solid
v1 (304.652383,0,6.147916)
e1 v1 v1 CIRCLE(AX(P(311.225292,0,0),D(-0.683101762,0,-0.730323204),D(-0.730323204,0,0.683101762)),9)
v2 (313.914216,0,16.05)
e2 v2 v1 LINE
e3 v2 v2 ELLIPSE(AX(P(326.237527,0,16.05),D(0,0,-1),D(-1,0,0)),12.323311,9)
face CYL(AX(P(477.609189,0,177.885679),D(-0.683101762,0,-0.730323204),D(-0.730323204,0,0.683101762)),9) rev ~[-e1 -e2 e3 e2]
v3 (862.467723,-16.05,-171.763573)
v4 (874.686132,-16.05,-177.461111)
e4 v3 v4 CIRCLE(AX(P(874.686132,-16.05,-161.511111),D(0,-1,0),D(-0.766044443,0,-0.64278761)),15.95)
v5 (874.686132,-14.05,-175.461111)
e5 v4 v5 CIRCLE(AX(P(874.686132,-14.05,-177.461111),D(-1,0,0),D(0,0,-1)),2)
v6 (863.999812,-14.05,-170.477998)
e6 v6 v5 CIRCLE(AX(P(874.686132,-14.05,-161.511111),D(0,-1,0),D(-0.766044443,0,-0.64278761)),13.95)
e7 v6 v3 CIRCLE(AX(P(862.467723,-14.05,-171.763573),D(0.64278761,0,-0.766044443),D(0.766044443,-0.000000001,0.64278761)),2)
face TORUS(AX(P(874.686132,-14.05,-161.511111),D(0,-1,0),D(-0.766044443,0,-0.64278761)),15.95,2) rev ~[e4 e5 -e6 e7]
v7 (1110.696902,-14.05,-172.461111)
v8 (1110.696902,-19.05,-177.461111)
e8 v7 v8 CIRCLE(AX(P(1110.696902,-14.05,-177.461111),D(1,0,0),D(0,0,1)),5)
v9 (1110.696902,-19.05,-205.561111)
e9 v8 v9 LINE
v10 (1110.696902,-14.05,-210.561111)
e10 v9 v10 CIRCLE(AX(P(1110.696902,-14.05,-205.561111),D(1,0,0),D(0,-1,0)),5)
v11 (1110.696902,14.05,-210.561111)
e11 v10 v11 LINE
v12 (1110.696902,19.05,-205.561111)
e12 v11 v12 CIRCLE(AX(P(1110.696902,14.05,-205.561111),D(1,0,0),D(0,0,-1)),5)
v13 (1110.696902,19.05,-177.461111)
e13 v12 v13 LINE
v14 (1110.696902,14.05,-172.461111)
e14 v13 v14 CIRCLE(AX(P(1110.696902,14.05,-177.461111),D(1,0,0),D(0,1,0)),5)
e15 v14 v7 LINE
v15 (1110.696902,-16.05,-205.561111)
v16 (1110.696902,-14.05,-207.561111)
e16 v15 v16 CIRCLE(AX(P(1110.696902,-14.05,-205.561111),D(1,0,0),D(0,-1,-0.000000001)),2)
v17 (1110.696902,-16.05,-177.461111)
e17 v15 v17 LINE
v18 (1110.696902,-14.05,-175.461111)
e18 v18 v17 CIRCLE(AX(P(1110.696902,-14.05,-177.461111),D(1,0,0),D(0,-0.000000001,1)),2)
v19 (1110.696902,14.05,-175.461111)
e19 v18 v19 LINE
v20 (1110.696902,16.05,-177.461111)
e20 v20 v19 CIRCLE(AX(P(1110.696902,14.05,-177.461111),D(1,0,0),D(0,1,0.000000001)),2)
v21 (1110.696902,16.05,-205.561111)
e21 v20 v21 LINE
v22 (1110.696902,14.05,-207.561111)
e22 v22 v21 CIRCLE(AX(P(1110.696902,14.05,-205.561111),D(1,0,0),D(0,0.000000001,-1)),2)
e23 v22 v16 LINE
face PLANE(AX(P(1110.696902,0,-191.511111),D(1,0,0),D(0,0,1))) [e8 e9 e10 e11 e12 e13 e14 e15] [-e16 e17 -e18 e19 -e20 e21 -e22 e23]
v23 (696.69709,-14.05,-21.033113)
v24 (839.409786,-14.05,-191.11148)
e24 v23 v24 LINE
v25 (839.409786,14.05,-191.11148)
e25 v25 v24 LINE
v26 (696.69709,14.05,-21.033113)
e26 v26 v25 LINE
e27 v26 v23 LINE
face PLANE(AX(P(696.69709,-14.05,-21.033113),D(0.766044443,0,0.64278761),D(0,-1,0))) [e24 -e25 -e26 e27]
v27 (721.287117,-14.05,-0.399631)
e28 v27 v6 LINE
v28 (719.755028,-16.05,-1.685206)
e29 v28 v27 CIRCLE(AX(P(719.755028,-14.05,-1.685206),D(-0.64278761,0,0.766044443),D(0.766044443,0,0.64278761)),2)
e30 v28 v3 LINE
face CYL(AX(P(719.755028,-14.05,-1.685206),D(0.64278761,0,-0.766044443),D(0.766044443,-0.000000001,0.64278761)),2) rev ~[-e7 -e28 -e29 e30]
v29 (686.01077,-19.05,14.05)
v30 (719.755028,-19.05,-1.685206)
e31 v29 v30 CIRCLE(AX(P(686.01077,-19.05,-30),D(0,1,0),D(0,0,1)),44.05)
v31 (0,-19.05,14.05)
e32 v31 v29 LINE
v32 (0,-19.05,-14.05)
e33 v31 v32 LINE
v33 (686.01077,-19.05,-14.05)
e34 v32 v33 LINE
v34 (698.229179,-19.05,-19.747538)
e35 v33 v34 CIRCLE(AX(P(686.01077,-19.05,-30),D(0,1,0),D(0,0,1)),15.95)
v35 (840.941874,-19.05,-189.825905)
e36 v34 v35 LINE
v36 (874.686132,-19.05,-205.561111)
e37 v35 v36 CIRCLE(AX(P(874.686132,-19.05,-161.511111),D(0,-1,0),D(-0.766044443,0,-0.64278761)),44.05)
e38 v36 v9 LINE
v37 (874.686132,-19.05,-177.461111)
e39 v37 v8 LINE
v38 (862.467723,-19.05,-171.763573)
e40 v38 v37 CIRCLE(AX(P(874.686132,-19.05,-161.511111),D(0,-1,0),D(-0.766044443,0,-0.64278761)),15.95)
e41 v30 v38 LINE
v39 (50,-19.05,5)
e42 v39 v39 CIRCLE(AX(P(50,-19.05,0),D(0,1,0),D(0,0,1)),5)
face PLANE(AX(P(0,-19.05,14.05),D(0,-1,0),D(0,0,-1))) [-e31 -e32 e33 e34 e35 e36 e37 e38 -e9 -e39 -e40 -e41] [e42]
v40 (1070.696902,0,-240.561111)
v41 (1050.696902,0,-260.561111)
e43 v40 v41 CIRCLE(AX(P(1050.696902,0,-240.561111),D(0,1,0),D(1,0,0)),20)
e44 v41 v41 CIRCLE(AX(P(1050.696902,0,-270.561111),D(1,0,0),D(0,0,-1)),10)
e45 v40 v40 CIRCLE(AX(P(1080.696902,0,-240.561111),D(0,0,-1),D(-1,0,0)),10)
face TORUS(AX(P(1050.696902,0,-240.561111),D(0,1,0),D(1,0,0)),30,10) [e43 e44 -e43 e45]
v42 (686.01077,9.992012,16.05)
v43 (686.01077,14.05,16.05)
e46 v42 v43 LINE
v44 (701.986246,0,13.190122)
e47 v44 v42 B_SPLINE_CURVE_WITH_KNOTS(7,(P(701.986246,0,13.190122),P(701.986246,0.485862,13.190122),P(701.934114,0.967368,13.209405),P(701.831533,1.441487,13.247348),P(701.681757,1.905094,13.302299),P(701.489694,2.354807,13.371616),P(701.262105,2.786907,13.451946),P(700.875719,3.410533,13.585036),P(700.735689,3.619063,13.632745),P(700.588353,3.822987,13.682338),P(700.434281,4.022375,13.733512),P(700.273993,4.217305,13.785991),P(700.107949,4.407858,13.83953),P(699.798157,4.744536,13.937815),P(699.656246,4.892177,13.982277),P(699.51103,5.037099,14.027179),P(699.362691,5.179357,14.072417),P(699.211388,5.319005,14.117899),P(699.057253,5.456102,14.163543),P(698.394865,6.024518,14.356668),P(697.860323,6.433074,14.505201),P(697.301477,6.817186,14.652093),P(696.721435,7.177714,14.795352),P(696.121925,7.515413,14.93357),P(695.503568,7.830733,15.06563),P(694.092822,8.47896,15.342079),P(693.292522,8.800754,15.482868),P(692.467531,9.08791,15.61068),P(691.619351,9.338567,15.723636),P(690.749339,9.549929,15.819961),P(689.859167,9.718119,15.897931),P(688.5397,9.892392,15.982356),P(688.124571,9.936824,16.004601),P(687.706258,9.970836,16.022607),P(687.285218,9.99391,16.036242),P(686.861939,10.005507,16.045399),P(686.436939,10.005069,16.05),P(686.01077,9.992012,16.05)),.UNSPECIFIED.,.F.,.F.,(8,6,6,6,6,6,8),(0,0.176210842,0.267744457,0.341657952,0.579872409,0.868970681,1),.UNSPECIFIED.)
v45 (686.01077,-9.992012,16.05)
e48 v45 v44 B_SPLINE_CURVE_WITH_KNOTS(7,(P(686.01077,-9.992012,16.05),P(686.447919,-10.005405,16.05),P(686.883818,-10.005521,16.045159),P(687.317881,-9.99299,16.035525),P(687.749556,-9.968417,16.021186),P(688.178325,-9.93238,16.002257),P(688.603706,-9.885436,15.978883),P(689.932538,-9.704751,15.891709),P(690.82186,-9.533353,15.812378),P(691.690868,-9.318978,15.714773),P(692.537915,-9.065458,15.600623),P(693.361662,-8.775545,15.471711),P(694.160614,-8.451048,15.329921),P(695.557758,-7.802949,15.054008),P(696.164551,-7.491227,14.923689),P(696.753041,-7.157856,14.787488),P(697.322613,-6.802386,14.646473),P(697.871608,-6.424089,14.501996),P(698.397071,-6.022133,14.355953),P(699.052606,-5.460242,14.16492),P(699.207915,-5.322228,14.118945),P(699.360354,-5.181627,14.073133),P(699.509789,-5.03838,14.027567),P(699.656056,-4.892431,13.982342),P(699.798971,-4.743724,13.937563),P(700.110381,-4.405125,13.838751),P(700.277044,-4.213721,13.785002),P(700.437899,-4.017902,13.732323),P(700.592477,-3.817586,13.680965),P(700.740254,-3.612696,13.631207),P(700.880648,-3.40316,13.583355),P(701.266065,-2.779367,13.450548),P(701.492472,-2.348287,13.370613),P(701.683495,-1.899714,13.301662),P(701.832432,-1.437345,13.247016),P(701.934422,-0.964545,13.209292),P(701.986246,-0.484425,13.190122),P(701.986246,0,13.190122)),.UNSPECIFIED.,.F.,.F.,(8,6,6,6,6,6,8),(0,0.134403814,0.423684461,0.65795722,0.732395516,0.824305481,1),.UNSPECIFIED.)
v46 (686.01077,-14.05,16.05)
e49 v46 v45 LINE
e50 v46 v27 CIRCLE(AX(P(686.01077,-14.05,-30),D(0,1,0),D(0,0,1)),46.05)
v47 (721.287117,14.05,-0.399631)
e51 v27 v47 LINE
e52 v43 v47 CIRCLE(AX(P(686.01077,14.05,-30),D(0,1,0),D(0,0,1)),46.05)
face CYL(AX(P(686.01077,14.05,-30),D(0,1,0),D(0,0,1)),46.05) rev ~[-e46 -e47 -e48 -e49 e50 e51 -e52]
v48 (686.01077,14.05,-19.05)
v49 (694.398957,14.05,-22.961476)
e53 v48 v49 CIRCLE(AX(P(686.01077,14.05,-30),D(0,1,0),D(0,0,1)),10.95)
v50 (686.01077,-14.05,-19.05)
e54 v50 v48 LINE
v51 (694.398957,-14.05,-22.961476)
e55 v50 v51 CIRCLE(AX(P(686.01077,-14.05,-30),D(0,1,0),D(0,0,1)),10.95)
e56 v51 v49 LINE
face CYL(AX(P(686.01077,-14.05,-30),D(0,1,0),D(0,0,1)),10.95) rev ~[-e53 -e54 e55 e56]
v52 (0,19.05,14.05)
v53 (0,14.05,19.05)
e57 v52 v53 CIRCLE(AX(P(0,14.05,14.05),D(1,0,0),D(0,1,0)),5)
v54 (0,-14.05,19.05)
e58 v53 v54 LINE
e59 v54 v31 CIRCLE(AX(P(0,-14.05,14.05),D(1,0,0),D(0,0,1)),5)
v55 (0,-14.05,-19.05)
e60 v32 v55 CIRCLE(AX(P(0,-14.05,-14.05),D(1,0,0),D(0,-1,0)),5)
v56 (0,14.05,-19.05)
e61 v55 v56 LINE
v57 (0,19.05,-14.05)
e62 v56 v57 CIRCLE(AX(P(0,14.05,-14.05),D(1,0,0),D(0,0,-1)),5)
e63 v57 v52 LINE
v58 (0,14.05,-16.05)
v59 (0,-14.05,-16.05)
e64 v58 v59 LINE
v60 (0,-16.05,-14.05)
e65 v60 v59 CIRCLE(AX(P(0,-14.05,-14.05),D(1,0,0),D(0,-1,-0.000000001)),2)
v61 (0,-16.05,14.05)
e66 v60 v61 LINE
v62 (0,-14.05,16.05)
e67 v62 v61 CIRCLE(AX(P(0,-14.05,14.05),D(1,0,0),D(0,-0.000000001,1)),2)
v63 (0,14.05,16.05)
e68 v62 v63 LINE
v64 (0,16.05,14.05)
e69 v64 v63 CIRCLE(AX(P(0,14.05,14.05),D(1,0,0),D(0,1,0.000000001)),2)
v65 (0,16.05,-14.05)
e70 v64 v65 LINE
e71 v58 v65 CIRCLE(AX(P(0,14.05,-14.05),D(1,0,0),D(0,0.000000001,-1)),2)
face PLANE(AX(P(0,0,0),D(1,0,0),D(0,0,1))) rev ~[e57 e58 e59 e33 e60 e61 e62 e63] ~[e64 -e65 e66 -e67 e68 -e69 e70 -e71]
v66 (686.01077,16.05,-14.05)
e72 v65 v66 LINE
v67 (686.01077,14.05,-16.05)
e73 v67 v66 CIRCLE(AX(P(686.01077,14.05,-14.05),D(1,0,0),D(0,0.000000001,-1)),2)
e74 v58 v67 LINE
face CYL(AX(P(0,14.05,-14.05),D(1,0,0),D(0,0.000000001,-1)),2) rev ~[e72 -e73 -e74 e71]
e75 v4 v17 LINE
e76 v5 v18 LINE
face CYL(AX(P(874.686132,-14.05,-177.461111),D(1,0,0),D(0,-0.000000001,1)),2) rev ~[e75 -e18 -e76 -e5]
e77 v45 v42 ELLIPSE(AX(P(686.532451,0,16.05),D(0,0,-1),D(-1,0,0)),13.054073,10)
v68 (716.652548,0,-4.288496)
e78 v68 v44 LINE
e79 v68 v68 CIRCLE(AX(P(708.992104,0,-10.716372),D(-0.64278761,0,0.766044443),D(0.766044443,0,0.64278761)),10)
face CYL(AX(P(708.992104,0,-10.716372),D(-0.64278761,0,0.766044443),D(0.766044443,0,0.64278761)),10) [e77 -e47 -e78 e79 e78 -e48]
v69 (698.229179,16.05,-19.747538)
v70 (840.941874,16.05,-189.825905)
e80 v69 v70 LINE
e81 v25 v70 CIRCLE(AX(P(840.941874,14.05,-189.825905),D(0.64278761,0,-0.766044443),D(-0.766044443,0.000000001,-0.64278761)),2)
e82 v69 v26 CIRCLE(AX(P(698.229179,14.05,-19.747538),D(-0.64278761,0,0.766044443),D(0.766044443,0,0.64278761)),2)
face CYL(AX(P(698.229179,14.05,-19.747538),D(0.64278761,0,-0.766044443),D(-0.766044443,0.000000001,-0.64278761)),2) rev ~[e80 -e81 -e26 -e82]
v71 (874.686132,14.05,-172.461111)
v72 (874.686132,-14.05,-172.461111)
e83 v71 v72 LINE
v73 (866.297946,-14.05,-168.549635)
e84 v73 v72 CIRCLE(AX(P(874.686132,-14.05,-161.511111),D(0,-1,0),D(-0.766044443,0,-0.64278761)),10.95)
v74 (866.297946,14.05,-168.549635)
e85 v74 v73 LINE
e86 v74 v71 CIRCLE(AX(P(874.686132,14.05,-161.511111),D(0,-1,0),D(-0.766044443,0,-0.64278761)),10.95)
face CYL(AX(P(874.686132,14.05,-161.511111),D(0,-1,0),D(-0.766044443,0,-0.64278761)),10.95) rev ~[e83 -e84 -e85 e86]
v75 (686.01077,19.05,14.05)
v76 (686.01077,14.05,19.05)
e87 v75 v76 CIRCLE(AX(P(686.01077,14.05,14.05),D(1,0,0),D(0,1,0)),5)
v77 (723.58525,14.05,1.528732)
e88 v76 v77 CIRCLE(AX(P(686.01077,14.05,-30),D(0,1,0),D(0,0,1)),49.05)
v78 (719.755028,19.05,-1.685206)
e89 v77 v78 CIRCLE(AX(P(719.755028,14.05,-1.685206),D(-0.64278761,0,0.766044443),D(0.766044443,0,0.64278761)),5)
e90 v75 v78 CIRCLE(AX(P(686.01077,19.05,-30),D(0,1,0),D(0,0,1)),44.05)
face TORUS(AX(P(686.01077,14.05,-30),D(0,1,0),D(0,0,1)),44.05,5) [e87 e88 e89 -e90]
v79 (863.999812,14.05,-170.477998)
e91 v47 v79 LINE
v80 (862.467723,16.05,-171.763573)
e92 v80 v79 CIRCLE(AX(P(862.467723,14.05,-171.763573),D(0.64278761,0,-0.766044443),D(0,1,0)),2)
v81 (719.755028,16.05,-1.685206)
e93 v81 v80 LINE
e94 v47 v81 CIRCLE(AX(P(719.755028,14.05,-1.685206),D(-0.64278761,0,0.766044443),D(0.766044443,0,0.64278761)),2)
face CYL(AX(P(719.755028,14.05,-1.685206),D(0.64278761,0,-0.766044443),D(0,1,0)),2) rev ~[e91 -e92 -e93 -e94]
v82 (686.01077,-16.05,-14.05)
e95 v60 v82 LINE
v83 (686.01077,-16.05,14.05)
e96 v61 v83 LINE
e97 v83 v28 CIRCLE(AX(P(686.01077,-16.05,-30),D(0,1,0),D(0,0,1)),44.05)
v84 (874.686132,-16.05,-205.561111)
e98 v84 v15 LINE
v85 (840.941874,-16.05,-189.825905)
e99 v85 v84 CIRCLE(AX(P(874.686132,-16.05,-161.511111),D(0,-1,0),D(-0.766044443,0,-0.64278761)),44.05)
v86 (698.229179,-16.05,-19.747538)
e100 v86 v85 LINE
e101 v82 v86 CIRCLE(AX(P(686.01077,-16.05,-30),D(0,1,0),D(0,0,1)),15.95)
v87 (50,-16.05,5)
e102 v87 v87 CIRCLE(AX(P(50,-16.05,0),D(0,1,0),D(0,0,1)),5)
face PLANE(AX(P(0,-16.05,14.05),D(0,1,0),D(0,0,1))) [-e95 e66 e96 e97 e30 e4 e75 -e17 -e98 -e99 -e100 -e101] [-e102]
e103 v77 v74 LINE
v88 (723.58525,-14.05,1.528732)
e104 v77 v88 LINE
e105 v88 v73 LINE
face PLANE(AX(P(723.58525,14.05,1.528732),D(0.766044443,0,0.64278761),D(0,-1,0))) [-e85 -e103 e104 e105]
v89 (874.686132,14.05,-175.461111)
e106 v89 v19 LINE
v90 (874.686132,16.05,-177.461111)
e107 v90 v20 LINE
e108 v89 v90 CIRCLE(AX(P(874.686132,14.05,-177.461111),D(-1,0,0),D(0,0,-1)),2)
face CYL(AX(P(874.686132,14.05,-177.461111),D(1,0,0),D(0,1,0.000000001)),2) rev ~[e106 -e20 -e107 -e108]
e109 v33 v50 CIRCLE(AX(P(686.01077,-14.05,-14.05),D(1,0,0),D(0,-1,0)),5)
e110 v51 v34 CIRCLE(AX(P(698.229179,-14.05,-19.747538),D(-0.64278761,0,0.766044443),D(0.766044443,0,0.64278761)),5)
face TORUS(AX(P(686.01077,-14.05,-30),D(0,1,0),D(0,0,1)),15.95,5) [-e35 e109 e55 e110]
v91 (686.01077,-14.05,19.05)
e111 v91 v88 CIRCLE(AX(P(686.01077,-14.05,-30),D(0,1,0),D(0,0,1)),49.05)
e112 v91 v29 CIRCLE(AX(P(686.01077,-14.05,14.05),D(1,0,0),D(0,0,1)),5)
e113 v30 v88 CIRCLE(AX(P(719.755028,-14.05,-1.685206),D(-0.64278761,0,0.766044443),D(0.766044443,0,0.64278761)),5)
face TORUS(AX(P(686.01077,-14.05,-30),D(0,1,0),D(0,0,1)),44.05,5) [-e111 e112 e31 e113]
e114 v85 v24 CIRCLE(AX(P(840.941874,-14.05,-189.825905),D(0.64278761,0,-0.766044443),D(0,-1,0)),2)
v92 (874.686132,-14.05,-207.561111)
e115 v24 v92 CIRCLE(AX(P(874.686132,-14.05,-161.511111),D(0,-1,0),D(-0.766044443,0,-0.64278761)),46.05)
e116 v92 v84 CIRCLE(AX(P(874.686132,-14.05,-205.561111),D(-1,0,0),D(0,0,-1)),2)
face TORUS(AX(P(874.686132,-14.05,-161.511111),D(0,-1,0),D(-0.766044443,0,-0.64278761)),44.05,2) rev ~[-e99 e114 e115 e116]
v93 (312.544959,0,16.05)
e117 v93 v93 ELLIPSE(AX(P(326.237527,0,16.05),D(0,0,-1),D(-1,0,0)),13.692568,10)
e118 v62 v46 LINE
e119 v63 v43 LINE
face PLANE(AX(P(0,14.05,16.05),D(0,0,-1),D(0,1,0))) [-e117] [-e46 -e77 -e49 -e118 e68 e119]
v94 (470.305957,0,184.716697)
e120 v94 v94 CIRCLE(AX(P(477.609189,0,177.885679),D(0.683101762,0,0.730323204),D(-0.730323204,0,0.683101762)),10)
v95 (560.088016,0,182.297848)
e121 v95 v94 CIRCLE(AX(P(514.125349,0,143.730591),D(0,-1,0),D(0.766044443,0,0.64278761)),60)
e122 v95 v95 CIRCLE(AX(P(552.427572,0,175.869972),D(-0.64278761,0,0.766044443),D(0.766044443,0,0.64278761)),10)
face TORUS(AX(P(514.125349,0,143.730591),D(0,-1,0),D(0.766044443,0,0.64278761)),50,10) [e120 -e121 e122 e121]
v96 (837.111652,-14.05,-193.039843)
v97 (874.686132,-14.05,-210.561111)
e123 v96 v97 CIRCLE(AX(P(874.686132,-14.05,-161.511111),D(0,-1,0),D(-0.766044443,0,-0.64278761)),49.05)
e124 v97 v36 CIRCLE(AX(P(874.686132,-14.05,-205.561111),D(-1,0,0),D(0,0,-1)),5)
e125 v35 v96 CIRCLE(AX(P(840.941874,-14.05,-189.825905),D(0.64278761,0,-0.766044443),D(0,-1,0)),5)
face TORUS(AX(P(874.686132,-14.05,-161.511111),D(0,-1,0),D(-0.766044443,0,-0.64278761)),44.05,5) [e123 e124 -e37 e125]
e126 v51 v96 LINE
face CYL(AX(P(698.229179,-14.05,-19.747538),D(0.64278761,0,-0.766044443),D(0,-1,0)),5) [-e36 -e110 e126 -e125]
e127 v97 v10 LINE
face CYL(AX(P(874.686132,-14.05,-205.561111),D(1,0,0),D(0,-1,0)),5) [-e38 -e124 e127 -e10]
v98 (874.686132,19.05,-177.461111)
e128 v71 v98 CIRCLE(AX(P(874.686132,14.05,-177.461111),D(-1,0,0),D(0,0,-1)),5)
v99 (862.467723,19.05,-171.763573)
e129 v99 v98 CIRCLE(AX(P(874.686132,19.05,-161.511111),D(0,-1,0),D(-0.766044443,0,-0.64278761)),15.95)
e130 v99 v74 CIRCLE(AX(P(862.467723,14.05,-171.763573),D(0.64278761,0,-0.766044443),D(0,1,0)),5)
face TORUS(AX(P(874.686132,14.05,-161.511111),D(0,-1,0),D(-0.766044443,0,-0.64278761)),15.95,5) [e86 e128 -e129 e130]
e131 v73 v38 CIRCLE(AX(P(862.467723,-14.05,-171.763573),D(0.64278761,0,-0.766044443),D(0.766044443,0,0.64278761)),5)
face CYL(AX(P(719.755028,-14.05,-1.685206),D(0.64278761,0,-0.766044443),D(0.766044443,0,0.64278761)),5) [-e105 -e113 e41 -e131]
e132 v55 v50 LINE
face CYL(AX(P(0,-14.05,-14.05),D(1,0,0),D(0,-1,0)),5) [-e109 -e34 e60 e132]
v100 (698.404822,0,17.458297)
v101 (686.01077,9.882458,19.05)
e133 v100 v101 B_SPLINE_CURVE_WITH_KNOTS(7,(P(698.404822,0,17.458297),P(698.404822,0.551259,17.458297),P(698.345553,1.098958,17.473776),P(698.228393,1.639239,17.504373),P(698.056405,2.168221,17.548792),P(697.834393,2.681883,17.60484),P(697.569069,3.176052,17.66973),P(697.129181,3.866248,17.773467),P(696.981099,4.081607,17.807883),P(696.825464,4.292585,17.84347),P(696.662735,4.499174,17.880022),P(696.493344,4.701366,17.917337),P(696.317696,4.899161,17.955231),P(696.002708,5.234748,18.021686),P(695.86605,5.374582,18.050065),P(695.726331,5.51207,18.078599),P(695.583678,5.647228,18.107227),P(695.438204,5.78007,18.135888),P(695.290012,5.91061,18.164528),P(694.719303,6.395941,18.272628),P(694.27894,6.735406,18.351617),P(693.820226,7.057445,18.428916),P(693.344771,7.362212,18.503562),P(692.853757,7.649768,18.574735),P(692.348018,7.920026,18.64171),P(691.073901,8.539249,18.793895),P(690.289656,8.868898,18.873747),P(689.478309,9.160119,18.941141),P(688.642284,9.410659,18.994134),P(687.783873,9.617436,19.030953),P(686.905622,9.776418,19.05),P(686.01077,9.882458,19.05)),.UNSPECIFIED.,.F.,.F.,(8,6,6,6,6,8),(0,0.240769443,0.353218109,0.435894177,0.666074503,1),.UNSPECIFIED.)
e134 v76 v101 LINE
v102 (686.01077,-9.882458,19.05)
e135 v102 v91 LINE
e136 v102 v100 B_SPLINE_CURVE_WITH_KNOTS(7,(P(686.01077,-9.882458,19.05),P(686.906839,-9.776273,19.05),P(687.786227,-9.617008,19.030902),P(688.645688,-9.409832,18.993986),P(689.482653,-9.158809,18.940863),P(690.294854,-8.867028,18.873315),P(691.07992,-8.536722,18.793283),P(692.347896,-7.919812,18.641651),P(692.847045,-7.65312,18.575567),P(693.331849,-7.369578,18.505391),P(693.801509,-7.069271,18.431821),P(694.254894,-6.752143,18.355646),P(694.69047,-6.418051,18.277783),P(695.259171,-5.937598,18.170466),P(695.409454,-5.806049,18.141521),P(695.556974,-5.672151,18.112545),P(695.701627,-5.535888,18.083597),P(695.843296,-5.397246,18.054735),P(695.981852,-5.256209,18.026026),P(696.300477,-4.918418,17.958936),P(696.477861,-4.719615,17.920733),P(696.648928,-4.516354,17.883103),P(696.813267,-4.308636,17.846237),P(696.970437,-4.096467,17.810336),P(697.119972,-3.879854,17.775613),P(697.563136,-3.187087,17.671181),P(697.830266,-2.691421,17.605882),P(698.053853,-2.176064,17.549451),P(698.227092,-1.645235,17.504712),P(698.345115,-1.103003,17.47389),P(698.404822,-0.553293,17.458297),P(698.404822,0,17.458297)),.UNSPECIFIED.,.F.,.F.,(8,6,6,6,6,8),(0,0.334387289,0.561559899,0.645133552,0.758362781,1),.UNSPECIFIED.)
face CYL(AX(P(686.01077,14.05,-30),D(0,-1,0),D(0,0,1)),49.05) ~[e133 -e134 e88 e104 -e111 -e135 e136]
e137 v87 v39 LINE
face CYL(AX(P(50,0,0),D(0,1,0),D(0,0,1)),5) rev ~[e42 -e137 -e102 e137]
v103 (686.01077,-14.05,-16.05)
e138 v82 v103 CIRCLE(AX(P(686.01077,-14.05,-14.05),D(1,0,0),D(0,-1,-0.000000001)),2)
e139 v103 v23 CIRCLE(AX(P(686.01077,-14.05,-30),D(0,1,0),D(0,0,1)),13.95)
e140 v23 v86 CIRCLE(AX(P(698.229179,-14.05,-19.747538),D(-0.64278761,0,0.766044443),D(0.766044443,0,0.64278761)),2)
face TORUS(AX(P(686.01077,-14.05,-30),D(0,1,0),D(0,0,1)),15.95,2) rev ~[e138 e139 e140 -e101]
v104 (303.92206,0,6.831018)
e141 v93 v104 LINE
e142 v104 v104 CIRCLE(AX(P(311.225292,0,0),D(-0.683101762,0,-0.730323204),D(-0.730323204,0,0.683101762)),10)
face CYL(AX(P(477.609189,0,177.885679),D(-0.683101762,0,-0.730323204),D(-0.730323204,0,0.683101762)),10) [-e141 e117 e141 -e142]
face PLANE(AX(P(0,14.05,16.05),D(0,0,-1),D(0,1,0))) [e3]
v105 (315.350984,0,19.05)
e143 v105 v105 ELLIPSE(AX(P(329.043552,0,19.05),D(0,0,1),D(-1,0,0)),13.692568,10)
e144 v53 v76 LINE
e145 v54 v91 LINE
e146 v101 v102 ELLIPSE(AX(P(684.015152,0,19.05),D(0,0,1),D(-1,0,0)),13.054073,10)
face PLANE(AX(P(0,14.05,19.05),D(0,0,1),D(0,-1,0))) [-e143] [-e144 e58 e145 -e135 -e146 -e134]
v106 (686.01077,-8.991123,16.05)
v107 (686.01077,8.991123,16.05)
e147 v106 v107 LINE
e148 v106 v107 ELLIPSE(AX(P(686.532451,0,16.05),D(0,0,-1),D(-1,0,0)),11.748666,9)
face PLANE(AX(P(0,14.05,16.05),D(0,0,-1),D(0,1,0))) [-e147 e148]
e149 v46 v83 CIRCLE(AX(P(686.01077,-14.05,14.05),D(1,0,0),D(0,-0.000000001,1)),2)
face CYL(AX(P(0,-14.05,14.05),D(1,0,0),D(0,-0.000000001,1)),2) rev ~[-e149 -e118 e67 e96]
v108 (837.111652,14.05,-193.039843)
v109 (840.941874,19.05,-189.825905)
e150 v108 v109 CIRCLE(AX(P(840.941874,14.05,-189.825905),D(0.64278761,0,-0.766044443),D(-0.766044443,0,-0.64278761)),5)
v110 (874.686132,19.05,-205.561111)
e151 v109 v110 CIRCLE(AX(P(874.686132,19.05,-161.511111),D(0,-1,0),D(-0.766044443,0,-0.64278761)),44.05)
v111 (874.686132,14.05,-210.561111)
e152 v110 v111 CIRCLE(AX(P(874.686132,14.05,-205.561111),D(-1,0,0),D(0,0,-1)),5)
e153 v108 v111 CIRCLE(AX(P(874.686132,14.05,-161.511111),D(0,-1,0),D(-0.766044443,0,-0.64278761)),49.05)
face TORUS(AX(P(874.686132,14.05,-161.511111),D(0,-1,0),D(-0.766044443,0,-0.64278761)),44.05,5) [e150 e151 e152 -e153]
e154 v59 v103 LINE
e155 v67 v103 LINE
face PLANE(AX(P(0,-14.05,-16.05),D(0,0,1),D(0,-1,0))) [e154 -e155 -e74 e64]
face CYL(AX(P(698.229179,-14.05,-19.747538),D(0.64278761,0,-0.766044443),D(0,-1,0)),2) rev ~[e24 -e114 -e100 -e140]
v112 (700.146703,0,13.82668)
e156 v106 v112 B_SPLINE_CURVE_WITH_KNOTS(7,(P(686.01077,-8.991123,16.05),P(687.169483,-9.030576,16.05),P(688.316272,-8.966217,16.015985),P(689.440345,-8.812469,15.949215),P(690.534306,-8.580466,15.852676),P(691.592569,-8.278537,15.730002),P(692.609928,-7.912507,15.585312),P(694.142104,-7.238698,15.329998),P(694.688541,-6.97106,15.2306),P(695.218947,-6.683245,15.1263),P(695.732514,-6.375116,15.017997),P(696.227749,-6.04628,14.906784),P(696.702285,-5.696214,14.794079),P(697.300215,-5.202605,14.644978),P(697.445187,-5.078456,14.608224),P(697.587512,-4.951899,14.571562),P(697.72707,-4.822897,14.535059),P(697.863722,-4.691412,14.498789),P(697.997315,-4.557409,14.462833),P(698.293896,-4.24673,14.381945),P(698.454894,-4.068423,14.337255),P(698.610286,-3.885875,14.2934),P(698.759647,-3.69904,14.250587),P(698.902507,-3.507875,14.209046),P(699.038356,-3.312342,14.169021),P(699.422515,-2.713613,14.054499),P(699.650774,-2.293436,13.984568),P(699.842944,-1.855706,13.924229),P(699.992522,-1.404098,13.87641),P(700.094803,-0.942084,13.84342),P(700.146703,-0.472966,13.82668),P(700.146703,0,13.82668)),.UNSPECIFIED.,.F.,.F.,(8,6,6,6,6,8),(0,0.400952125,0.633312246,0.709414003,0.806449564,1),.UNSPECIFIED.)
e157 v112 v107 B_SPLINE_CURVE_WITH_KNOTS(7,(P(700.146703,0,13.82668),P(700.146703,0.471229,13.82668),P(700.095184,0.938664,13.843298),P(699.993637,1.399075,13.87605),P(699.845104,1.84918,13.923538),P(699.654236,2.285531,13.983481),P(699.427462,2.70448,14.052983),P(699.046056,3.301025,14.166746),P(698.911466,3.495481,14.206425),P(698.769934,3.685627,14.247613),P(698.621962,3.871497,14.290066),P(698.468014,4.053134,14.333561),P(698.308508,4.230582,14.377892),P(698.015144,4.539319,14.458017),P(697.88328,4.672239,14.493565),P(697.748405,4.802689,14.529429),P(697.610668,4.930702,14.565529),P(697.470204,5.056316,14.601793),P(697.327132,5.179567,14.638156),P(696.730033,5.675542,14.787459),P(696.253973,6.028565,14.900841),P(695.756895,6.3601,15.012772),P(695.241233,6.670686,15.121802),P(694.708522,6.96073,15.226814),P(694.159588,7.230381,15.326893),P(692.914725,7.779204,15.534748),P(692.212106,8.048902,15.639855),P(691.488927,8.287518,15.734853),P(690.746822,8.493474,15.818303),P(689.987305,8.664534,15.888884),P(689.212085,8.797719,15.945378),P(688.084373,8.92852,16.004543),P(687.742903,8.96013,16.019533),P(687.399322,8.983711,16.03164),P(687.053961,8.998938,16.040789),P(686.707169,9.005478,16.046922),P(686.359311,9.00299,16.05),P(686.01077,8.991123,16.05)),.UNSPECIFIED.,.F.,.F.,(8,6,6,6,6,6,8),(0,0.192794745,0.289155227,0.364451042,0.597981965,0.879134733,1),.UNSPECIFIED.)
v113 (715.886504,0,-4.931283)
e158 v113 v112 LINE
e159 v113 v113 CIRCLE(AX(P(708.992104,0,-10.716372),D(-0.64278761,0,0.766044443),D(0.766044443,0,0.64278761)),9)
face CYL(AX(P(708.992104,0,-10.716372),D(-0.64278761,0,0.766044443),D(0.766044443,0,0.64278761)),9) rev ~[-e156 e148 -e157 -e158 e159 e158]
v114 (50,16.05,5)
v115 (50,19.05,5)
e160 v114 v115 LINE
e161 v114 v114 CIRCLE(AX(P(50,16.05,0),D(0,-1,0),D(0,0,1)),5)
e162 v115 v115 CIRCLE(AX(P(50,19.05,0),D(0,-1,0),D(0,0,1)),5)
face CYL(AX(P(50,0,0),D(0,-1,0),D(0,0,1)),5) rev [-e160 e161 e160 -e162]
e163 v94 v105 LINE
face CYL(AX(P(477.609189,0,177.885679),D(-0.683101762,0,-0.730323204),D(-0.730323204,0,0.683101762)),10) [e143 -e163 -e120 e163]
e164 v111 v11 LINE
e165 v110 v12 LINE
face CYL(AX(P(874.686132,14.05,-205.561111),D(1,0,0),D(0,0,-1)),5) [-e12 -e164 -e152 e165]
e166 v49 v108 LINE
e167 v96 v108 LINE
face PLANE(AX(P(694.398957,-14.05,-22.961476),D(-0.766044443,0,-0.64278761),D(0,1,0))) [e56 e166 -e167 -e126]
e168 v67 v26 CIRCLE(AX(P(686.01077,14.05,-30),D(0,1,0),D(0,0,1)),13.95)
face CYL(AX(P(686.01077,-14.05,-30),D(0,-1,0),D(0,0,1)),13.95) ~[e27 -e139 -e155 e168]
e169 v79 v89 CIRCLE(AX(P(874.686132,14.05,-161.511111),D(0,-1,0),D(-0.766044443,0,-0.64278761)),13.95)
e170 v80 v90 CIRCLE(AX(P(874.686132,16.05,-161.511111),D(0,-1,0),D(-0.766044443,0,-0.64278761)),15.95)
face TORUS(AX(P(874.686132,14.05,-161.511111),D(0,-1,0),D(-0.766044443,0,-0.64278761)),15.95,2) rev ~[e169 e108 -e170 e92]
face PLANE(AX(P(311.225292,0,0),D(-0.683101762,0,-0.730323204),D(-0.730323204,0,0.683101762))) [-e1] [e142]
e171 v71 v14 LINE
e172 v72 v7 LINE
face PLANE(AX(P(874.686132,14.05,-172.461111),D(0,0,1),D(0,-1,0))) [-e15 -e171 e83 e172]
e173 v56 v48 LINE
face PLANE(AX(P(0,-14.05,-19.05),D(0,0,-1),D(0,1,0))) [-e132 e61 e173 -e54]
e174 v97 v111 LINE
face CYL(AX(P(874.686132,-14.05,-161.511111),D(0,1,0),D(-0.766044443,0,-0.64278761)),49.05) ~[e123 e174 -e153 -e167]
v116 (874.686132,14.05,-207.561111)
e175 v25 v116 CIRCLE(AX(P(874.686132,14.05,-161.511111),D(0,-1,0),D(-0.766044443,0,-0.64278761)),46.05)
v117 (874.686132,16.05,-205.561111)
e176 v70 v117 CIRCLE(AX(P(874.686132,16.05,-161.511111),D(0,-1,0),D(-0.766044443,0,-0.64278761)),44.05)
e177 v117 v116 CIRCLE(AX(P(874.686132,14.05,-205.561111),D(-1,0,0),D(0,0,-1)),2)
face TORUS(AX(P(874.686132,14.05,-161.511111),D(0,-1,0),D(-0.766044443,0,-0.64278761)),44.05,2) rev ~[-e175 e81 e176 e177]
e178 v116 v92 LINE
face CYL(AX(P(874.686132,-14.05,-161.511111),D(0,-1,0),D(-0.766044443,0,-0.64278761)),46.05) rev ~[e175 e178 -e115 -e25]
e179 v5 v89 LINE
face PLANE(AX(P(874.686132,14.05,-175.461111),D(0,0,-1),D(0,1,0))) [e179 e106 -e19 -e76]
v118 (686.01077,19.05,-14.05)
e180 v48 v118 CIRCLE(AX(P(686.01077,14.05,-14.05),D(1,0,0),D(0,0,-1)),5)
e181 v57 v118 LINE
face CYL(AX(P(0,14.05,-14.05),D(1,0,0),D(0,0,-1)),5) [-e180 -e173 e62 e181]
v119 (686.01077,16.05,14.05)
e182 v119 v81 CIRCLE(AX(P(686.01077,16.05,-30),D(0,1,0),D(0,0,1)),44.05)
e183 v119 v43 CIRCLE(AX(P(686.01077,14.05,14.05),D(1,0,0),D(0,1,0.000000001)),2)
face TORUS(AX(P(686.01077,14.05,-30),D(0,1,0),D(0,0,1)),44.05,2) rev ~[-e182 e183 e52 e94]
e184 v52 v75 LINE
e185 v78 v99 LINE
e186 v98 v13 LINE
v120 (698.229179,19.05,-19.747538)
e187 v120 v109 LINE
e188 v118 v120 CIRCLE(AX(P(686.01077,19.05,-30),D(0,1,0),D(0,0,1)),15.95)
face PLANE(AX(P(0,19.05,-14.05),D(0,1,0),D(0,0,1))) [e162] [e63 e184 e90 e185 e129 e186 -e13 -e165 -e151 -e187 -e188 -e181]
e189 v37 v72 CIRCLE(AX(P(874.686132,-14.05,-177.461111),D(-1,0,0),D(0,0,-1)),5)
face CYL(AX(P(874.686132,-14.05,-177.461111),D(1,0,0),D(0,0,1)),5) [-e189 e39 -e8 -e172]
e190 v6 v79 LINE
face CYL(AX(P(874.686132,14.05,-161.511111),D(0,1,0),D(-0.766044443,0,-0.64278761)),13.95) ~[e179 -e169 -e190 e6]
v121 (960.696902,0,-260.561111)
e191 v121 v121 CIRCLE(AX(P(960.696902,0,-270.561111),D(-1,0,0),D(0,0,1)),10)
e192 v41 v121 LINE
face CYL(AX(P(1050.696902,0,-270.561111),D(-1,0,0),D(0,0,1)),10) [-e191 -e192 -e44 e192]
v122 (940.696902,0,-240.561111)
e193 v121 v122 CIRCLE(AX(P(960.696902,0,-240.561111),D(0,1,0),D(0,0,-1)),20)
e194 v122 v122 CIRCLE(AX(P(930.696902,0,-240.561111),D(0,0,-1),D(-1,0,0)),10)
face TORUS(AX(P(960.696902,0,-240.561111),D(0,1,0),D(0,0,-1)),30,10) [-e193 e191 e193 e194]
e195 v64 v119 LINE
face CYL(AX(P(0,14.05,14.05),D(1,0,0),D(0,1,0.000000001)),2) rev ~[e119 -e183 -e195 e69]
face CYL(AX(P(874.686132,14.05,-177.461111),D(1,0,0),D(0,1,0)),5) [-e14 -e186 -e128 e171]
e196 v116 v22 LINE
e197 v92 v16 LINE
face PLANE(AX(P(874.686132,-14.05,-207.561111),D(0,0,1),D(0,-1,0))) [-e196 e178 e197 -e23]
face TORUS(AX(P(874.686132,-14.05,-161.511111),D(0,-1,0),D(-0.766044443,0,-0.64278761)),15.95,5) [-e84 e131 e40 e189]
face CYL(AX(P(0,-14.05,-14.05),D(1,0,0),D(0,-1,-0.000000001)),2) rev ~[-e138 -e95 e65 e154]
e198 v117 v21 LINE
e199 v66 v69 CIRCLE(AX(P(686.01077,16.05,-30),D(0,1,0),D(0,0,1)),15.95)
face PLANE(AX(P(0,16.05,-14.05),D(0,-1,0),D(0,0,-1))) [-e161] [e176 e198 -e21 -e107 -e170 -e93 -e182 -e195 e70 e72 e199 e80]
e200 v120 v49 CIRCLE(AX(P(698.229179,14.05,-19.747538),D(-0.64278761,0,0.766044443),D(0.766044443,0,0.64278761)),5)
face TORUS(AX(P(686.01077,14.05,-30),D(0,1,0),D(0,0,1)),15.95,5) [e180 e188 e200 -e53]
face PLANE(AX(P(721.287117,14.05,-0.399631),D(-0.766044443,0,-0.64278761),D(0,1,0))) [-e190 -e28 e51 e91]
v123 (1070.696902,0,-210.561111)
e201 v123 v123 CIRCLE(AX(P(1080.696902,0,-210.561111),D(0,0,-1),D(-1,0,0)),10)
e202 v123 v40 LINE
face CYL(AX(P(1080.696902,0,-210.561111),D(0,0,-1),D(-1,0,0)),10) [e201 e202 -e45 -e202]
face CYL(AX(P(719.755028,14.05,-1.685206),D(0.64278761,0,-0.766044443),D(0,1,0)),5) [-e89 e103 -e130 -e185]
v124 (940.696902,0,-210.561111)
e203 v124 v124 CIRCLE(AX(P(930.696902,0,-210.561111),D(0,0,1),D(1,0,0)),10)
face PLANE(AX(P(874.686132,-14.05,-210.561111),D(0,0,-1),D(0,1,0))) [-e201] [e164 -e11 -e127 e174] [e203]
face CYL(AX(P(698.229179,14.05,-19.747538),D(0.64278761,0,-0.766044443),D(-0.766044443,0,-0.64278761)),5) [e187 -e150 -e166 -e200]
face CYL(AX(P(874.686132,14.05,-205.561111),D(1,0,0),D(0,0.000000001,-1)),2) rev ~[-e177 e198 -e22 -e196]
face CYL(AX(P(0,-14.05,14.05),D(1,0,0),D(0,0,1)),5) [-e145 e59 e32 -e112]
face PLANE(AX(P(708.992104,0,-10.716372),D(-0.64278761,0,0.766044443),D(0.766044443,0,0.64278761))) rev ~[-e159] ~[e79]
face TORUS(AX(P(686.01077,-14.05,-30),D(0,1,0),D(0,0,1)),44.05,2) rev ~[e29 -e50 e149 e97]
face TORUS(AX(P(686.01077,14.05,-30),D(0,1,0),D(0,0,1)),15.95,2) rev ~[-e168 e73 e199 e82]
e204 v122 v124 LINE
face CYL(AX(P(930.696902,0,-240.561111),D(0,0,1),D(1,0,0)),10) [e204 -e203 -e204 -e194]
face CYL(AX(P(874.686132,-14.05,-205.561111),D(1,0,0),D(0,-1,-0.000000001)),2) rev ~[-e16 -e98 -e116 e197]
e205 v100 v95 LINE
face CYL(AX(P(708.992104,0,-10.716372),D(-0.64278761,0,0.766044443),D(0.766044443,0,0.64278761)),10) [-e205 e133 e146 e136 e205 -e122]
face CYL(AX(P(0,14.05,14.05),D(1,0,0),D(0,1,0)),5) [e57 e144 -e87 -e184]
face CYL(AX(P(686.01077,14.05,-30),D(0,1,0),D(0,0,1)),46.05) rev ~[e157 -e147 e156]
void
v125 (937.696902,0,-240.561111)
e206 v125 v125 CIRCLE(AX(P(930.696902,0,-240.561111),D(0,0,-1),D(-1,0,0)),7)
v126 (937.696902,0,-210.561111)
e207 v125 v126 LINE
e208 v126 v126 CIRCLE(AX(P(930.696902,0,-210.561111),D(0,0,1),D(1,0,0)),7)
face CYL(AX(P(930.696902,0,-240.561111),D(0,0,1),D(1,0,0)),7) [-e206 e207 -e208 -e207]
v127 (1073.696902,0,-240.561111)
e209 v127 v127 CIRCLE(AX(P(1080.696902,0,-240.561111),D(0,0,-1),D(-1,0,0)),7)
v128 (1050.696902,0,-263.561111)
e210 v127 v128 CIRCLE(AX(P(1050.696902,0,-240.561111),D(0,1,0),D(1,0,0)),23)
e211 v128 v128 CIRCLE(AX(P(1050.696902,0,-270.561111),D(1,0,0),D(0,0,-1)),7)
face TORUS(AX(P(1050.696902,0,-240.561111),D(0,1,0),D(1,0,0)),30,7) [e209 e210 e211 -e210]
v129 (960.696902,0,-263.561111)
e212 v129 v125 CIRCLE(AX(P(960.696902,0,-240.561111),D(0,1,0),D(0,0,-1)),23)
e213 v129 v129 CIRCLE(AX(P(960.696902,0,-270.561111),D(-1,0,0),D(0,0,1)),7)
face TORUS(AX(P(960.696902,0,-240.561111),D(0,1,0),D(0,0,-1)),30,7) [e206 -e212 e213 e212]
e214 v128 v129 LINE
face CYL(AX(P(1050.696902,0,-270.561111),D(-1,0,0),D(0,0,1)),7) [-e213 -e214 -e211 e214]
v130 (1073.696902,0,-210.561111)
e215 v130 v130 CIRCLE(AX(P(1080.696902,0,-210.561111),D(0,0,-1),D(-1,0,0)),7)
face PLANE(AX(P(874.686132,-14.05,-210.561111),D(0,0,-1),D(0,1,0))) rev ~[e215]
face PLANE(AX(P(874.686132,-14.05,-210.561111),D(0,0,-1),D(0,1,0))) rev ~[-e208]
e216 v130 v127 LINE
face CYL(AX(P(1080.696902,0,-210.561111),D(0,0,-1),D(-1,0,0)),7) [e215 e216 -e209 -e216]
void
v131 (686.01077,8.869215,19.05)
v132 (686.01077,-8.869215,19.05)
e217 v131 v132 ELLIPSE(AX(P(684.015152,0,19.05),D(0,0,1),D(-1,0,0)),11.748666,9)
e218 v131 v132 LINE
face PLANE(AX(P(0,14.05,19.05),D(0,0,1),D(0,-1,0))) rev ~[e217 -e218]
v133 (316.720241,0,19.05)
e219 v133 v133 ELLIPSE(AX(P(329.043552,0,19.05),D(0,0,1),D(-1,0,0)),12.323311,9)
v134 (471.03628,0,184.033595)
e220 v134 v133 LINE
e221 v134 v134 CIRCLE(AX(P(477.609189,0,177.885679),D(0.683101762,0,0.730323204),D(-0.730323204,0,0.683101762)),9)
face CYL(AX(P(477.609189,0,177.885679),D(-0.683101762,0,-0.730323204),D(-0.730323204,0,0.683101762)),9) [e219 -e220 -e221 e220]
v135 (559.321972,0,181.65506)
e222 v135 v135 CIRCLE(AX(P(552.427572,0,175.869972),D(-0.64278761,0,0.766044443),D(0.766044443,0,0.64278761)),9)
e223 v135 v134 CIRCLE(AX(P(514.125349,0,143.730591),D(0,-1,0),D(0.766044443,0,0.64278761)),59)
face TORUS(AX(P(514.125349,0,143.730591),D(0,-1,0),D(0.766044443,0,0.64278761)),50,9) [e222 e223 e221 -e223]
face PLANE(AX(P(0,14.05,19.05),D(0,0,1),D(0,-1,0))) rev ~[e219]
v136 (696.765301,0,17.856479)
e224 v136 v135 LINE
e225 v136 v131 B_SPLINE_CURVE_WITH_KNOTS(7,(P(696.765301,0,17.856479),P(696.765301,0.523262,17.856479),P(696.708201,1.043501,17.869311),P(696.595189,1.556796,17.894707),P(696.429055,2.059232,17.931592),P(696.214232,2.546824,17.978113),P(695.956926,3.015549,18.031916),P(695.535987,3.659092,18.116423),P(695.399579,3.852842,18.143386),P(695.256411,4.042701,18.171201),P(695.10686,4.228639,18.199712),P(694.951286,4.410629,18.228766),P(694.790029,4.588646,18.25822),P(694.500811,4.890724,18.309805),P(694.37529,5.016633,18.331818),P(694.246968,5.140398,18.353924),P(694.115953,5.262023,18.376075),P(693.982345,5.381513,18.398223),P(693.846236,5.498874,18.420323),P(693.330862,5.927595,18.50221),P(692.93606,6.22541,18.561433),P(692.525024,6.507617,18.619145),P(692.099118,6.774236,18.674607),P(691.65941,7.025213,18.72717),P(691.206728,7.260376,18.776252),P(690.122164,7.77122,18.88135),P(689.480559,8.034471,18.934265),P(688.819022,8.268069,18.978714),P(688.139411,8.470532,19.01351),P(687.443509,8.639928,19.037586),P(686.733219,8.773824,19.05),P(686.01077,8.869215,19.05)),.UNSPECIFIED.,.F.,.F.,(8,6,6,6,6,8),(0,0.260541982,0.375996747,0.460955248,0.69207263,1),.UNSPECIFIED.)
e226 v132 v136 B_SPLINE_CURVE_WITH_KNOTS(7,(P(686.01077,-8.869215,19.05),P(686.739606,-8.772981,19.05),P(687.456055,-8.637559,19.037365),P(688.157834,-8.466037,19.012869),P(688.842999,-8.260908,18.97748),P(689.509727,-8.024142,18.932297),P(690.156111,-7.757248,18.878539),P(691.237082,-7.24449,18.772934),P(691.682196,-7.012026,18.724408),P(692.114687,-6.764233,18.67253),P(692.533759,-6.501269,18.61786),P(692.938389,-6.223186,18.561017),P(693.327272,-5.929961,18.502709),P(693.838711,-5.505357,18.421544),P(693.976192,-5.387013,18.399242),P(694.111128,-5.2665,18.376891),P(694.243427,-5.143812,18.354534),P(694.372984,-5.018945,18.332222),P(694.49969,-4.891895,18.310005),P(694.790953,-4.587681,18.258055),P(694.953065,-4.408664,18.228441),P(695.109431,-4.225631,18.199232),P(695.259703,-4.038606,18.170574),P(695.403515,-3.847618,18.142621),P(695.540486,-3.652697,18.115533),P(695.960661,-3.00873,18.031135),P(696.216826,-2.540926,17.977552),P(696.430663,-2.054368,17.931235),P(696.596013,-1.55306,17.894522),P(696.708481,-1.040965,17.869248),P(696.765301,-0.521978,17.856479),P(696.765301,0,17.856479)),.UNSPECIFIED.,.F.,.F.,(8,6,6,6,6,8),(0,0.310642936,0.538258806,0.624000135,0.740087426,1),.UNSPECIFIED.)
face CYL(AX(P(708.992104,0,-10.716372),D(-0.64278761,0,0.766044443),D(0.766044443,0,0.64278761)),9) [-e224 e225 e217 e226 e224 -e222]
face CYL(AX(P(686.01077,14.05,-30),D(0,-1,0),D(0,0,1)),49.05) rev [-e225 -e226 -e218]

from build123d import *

# Parameters (mm, degrees)
CUT_EXTRUDE3_DEPTH      = 1131.639859977
CUT_EXTRUDE3_DEPTH_BACK = 1131.639859977
SKETCH21_R              = 5
SWEEP_THIN4_PROFILE_R   = 10
SWEEP_THIN4_PROFILE_R_2 = 7
SWEEP_THIN5_PROFILE_R   = 10
SWEEP_THIN5_PROFILE_R_2 = 9


with BuildPart() as part:
    # Sweep-Thin3: sweep along a curve in space
    with BuildLine() as sweep_thin3_path:
        Line((874.686132166, 0, -191.51111078), (1110.696902422, 0, -191.51111078))
        ThreePointArc((851.704798873, 0, -180.79473907), (862.007584314, 0, -188.700344391), (874.686132166, 0, -191.51111078))
        Line((708.992103549, 0, -10.716371709), (851.704798873, 0, -180.79473907))
        ThreePointArc((686.010770255, 0, 0), (698.689318108, 0, -2.810766389), (708.992103549, 0, -10.716371709))
        Line((0, 0, 0), (686.010770255, 0, 0))
    # Sketch2 → Sweep-Thin3 (sweep)
    with BuildSketch(Plane(origin=(0, 0, 0), x_dir=(0, 0, -1), z_dir=(1, 0, 0))):
        with BuildLine():
            Line((14.05, 19.05), (-14.05, 19.05))
            ThreePointArc((-14.05, 19.05), (-17.585533906, 17.585533906), (-19.05, 14.05))
            Line((-19.05, 14.05), (-19.05, -14.05))
            ThreePointArc((-19.05, -14.05), (-17.585533906, -17.585533906), (-14.05, -19.05))
            Line((-14.05, -19.05), (14.05, -19.05))
            ThreePointArc((14.05, -19.05), (17.585533906, -17.585533906), (19.05, -14.05))
            Line((19.05, -14.05), (19.05, 14.05))
            ThreePointArc((19.05, 14.05), (17.585533906, 17.585533906), (14.05, 19.05))
        make_face()
        with BuildLine():
            Line((14.05, 16.05), (-14.05, 16.05))
            ThreePointArc((-14.05, 16.05), (-15.464213562, 15.464213562), (-16.05, 14.05))
            Line((-16.05, 14.05), (-16.05, -14.05))
            ThreePointArc((-16.05, -14.05), (-15.464213562, -15.464213562), (-14.05, -16.05))
            Line((-14.05, -16.05), (14.05, -16.05))
            ThreePointArc((14.05, -16.05), (15.464213562, -15.464213562), (16.05, -14.05))
            Line((16.05, -14.05), (16.05, 14.05))
            ThreePointArc((16.05, 14.05), (15.464213562, 15.464213562), (14.05, 16.05))
        make_face(mode=Mode.SUBTRACT)
    sweep(path=sweep_thin3_path.line)

    # Sketch21 → Cut-Extrude3 (cut, two sides: drawn at the far end of the back side and taken through both)
    with BuildSketch(Plane(origin=(0, 0, 0), x_dir=(1, 0, 0), z_dir=(0, 1, 0)).offset(-CUT_EXTRUDE3_DEPTH_BACK)):
        with Locations((50, 0)):
            Circle(SKETCH21_R)
    extrude(amount=CUT_EXTRUDE3_DEPTH + CUT_EXTRUDE3_DEPTH_BACK, mode=Mode.SUBTRACT)

    # Sweep-Thin4: sweep along a path in Sketch25
    with BuildLine(Plane.XZ) as sweep_thin4_path:
        Line((1080.696902422, -210.56111078), (1080.696902422, -240.56111078))
        ThreePointArc((1080.696902422, -240.56111078), (1071.910105857, -261.774314215), (1050.696902422, -270.56111078))
        Line((1050.696902422, -270.56111078), (960.696902422, -270.56111078))
        ThreePointArc((960.696902422, -270.56111078), (939.483698986, -261.774314215), (930.696902422, -240.56111078))
        Line((930.696902422, -240.56111078), (930.696902422, -210.56111078))
    # Sweep-Thin4 profile (on start of the path) → Sweep-Thin4 (sweep)
    with BuildSketch(Plane(origin=(1080.696902422, 0, -210.56111078), x_dir=(-1, 0, 0), z_dir=(0, 0, -1))):
        Circle(SWEEP_THIN4_PROFILE_R)
        Circle(SWEEP_THIN4_PROFILE_R_2, mode=Mode.SUBTRACT)
    sweep(path=sweep_thin4_path.line)

    # Sweep-Thin5: sweep along a path in Sketch26
    with BuildLine(Plane(origin=(0, 0, 0), x_dir=(1, 0, 0), z_dir=(0, 1, 0))) as sweep_thin5_path:
        Line((708.992103549, 10.716371709), (552.427571648, -175.869971657))
        ThreePointArc((552.427571648, -175.869971657), (515.471927983, -193.712455147), (477.609189287, -177.885679284))
        Line((477.609189287, -177.885679284), (311.225291972, 0))
    # Sweep-Thin5 profile (on start of the path) → Sweep-Thin5 (sweep)
    with BuildSketch(Plane(origin=(708.992103549, 0, -10.716371709), x_dir=(0.7660444431189789, 0, 0.6427876096865383), z_dir=(-0.6427876096865383, 0, 0.7660444431189789))):
        Circle(SWEEP_THIN5_PROFILE_R)
        Circle(SWEEP_THIN5_PROFILE_R_2, mode=Mode.SUBTRACT)
    sweep(path=sweep_thin5_path.line)


solid = part.part
